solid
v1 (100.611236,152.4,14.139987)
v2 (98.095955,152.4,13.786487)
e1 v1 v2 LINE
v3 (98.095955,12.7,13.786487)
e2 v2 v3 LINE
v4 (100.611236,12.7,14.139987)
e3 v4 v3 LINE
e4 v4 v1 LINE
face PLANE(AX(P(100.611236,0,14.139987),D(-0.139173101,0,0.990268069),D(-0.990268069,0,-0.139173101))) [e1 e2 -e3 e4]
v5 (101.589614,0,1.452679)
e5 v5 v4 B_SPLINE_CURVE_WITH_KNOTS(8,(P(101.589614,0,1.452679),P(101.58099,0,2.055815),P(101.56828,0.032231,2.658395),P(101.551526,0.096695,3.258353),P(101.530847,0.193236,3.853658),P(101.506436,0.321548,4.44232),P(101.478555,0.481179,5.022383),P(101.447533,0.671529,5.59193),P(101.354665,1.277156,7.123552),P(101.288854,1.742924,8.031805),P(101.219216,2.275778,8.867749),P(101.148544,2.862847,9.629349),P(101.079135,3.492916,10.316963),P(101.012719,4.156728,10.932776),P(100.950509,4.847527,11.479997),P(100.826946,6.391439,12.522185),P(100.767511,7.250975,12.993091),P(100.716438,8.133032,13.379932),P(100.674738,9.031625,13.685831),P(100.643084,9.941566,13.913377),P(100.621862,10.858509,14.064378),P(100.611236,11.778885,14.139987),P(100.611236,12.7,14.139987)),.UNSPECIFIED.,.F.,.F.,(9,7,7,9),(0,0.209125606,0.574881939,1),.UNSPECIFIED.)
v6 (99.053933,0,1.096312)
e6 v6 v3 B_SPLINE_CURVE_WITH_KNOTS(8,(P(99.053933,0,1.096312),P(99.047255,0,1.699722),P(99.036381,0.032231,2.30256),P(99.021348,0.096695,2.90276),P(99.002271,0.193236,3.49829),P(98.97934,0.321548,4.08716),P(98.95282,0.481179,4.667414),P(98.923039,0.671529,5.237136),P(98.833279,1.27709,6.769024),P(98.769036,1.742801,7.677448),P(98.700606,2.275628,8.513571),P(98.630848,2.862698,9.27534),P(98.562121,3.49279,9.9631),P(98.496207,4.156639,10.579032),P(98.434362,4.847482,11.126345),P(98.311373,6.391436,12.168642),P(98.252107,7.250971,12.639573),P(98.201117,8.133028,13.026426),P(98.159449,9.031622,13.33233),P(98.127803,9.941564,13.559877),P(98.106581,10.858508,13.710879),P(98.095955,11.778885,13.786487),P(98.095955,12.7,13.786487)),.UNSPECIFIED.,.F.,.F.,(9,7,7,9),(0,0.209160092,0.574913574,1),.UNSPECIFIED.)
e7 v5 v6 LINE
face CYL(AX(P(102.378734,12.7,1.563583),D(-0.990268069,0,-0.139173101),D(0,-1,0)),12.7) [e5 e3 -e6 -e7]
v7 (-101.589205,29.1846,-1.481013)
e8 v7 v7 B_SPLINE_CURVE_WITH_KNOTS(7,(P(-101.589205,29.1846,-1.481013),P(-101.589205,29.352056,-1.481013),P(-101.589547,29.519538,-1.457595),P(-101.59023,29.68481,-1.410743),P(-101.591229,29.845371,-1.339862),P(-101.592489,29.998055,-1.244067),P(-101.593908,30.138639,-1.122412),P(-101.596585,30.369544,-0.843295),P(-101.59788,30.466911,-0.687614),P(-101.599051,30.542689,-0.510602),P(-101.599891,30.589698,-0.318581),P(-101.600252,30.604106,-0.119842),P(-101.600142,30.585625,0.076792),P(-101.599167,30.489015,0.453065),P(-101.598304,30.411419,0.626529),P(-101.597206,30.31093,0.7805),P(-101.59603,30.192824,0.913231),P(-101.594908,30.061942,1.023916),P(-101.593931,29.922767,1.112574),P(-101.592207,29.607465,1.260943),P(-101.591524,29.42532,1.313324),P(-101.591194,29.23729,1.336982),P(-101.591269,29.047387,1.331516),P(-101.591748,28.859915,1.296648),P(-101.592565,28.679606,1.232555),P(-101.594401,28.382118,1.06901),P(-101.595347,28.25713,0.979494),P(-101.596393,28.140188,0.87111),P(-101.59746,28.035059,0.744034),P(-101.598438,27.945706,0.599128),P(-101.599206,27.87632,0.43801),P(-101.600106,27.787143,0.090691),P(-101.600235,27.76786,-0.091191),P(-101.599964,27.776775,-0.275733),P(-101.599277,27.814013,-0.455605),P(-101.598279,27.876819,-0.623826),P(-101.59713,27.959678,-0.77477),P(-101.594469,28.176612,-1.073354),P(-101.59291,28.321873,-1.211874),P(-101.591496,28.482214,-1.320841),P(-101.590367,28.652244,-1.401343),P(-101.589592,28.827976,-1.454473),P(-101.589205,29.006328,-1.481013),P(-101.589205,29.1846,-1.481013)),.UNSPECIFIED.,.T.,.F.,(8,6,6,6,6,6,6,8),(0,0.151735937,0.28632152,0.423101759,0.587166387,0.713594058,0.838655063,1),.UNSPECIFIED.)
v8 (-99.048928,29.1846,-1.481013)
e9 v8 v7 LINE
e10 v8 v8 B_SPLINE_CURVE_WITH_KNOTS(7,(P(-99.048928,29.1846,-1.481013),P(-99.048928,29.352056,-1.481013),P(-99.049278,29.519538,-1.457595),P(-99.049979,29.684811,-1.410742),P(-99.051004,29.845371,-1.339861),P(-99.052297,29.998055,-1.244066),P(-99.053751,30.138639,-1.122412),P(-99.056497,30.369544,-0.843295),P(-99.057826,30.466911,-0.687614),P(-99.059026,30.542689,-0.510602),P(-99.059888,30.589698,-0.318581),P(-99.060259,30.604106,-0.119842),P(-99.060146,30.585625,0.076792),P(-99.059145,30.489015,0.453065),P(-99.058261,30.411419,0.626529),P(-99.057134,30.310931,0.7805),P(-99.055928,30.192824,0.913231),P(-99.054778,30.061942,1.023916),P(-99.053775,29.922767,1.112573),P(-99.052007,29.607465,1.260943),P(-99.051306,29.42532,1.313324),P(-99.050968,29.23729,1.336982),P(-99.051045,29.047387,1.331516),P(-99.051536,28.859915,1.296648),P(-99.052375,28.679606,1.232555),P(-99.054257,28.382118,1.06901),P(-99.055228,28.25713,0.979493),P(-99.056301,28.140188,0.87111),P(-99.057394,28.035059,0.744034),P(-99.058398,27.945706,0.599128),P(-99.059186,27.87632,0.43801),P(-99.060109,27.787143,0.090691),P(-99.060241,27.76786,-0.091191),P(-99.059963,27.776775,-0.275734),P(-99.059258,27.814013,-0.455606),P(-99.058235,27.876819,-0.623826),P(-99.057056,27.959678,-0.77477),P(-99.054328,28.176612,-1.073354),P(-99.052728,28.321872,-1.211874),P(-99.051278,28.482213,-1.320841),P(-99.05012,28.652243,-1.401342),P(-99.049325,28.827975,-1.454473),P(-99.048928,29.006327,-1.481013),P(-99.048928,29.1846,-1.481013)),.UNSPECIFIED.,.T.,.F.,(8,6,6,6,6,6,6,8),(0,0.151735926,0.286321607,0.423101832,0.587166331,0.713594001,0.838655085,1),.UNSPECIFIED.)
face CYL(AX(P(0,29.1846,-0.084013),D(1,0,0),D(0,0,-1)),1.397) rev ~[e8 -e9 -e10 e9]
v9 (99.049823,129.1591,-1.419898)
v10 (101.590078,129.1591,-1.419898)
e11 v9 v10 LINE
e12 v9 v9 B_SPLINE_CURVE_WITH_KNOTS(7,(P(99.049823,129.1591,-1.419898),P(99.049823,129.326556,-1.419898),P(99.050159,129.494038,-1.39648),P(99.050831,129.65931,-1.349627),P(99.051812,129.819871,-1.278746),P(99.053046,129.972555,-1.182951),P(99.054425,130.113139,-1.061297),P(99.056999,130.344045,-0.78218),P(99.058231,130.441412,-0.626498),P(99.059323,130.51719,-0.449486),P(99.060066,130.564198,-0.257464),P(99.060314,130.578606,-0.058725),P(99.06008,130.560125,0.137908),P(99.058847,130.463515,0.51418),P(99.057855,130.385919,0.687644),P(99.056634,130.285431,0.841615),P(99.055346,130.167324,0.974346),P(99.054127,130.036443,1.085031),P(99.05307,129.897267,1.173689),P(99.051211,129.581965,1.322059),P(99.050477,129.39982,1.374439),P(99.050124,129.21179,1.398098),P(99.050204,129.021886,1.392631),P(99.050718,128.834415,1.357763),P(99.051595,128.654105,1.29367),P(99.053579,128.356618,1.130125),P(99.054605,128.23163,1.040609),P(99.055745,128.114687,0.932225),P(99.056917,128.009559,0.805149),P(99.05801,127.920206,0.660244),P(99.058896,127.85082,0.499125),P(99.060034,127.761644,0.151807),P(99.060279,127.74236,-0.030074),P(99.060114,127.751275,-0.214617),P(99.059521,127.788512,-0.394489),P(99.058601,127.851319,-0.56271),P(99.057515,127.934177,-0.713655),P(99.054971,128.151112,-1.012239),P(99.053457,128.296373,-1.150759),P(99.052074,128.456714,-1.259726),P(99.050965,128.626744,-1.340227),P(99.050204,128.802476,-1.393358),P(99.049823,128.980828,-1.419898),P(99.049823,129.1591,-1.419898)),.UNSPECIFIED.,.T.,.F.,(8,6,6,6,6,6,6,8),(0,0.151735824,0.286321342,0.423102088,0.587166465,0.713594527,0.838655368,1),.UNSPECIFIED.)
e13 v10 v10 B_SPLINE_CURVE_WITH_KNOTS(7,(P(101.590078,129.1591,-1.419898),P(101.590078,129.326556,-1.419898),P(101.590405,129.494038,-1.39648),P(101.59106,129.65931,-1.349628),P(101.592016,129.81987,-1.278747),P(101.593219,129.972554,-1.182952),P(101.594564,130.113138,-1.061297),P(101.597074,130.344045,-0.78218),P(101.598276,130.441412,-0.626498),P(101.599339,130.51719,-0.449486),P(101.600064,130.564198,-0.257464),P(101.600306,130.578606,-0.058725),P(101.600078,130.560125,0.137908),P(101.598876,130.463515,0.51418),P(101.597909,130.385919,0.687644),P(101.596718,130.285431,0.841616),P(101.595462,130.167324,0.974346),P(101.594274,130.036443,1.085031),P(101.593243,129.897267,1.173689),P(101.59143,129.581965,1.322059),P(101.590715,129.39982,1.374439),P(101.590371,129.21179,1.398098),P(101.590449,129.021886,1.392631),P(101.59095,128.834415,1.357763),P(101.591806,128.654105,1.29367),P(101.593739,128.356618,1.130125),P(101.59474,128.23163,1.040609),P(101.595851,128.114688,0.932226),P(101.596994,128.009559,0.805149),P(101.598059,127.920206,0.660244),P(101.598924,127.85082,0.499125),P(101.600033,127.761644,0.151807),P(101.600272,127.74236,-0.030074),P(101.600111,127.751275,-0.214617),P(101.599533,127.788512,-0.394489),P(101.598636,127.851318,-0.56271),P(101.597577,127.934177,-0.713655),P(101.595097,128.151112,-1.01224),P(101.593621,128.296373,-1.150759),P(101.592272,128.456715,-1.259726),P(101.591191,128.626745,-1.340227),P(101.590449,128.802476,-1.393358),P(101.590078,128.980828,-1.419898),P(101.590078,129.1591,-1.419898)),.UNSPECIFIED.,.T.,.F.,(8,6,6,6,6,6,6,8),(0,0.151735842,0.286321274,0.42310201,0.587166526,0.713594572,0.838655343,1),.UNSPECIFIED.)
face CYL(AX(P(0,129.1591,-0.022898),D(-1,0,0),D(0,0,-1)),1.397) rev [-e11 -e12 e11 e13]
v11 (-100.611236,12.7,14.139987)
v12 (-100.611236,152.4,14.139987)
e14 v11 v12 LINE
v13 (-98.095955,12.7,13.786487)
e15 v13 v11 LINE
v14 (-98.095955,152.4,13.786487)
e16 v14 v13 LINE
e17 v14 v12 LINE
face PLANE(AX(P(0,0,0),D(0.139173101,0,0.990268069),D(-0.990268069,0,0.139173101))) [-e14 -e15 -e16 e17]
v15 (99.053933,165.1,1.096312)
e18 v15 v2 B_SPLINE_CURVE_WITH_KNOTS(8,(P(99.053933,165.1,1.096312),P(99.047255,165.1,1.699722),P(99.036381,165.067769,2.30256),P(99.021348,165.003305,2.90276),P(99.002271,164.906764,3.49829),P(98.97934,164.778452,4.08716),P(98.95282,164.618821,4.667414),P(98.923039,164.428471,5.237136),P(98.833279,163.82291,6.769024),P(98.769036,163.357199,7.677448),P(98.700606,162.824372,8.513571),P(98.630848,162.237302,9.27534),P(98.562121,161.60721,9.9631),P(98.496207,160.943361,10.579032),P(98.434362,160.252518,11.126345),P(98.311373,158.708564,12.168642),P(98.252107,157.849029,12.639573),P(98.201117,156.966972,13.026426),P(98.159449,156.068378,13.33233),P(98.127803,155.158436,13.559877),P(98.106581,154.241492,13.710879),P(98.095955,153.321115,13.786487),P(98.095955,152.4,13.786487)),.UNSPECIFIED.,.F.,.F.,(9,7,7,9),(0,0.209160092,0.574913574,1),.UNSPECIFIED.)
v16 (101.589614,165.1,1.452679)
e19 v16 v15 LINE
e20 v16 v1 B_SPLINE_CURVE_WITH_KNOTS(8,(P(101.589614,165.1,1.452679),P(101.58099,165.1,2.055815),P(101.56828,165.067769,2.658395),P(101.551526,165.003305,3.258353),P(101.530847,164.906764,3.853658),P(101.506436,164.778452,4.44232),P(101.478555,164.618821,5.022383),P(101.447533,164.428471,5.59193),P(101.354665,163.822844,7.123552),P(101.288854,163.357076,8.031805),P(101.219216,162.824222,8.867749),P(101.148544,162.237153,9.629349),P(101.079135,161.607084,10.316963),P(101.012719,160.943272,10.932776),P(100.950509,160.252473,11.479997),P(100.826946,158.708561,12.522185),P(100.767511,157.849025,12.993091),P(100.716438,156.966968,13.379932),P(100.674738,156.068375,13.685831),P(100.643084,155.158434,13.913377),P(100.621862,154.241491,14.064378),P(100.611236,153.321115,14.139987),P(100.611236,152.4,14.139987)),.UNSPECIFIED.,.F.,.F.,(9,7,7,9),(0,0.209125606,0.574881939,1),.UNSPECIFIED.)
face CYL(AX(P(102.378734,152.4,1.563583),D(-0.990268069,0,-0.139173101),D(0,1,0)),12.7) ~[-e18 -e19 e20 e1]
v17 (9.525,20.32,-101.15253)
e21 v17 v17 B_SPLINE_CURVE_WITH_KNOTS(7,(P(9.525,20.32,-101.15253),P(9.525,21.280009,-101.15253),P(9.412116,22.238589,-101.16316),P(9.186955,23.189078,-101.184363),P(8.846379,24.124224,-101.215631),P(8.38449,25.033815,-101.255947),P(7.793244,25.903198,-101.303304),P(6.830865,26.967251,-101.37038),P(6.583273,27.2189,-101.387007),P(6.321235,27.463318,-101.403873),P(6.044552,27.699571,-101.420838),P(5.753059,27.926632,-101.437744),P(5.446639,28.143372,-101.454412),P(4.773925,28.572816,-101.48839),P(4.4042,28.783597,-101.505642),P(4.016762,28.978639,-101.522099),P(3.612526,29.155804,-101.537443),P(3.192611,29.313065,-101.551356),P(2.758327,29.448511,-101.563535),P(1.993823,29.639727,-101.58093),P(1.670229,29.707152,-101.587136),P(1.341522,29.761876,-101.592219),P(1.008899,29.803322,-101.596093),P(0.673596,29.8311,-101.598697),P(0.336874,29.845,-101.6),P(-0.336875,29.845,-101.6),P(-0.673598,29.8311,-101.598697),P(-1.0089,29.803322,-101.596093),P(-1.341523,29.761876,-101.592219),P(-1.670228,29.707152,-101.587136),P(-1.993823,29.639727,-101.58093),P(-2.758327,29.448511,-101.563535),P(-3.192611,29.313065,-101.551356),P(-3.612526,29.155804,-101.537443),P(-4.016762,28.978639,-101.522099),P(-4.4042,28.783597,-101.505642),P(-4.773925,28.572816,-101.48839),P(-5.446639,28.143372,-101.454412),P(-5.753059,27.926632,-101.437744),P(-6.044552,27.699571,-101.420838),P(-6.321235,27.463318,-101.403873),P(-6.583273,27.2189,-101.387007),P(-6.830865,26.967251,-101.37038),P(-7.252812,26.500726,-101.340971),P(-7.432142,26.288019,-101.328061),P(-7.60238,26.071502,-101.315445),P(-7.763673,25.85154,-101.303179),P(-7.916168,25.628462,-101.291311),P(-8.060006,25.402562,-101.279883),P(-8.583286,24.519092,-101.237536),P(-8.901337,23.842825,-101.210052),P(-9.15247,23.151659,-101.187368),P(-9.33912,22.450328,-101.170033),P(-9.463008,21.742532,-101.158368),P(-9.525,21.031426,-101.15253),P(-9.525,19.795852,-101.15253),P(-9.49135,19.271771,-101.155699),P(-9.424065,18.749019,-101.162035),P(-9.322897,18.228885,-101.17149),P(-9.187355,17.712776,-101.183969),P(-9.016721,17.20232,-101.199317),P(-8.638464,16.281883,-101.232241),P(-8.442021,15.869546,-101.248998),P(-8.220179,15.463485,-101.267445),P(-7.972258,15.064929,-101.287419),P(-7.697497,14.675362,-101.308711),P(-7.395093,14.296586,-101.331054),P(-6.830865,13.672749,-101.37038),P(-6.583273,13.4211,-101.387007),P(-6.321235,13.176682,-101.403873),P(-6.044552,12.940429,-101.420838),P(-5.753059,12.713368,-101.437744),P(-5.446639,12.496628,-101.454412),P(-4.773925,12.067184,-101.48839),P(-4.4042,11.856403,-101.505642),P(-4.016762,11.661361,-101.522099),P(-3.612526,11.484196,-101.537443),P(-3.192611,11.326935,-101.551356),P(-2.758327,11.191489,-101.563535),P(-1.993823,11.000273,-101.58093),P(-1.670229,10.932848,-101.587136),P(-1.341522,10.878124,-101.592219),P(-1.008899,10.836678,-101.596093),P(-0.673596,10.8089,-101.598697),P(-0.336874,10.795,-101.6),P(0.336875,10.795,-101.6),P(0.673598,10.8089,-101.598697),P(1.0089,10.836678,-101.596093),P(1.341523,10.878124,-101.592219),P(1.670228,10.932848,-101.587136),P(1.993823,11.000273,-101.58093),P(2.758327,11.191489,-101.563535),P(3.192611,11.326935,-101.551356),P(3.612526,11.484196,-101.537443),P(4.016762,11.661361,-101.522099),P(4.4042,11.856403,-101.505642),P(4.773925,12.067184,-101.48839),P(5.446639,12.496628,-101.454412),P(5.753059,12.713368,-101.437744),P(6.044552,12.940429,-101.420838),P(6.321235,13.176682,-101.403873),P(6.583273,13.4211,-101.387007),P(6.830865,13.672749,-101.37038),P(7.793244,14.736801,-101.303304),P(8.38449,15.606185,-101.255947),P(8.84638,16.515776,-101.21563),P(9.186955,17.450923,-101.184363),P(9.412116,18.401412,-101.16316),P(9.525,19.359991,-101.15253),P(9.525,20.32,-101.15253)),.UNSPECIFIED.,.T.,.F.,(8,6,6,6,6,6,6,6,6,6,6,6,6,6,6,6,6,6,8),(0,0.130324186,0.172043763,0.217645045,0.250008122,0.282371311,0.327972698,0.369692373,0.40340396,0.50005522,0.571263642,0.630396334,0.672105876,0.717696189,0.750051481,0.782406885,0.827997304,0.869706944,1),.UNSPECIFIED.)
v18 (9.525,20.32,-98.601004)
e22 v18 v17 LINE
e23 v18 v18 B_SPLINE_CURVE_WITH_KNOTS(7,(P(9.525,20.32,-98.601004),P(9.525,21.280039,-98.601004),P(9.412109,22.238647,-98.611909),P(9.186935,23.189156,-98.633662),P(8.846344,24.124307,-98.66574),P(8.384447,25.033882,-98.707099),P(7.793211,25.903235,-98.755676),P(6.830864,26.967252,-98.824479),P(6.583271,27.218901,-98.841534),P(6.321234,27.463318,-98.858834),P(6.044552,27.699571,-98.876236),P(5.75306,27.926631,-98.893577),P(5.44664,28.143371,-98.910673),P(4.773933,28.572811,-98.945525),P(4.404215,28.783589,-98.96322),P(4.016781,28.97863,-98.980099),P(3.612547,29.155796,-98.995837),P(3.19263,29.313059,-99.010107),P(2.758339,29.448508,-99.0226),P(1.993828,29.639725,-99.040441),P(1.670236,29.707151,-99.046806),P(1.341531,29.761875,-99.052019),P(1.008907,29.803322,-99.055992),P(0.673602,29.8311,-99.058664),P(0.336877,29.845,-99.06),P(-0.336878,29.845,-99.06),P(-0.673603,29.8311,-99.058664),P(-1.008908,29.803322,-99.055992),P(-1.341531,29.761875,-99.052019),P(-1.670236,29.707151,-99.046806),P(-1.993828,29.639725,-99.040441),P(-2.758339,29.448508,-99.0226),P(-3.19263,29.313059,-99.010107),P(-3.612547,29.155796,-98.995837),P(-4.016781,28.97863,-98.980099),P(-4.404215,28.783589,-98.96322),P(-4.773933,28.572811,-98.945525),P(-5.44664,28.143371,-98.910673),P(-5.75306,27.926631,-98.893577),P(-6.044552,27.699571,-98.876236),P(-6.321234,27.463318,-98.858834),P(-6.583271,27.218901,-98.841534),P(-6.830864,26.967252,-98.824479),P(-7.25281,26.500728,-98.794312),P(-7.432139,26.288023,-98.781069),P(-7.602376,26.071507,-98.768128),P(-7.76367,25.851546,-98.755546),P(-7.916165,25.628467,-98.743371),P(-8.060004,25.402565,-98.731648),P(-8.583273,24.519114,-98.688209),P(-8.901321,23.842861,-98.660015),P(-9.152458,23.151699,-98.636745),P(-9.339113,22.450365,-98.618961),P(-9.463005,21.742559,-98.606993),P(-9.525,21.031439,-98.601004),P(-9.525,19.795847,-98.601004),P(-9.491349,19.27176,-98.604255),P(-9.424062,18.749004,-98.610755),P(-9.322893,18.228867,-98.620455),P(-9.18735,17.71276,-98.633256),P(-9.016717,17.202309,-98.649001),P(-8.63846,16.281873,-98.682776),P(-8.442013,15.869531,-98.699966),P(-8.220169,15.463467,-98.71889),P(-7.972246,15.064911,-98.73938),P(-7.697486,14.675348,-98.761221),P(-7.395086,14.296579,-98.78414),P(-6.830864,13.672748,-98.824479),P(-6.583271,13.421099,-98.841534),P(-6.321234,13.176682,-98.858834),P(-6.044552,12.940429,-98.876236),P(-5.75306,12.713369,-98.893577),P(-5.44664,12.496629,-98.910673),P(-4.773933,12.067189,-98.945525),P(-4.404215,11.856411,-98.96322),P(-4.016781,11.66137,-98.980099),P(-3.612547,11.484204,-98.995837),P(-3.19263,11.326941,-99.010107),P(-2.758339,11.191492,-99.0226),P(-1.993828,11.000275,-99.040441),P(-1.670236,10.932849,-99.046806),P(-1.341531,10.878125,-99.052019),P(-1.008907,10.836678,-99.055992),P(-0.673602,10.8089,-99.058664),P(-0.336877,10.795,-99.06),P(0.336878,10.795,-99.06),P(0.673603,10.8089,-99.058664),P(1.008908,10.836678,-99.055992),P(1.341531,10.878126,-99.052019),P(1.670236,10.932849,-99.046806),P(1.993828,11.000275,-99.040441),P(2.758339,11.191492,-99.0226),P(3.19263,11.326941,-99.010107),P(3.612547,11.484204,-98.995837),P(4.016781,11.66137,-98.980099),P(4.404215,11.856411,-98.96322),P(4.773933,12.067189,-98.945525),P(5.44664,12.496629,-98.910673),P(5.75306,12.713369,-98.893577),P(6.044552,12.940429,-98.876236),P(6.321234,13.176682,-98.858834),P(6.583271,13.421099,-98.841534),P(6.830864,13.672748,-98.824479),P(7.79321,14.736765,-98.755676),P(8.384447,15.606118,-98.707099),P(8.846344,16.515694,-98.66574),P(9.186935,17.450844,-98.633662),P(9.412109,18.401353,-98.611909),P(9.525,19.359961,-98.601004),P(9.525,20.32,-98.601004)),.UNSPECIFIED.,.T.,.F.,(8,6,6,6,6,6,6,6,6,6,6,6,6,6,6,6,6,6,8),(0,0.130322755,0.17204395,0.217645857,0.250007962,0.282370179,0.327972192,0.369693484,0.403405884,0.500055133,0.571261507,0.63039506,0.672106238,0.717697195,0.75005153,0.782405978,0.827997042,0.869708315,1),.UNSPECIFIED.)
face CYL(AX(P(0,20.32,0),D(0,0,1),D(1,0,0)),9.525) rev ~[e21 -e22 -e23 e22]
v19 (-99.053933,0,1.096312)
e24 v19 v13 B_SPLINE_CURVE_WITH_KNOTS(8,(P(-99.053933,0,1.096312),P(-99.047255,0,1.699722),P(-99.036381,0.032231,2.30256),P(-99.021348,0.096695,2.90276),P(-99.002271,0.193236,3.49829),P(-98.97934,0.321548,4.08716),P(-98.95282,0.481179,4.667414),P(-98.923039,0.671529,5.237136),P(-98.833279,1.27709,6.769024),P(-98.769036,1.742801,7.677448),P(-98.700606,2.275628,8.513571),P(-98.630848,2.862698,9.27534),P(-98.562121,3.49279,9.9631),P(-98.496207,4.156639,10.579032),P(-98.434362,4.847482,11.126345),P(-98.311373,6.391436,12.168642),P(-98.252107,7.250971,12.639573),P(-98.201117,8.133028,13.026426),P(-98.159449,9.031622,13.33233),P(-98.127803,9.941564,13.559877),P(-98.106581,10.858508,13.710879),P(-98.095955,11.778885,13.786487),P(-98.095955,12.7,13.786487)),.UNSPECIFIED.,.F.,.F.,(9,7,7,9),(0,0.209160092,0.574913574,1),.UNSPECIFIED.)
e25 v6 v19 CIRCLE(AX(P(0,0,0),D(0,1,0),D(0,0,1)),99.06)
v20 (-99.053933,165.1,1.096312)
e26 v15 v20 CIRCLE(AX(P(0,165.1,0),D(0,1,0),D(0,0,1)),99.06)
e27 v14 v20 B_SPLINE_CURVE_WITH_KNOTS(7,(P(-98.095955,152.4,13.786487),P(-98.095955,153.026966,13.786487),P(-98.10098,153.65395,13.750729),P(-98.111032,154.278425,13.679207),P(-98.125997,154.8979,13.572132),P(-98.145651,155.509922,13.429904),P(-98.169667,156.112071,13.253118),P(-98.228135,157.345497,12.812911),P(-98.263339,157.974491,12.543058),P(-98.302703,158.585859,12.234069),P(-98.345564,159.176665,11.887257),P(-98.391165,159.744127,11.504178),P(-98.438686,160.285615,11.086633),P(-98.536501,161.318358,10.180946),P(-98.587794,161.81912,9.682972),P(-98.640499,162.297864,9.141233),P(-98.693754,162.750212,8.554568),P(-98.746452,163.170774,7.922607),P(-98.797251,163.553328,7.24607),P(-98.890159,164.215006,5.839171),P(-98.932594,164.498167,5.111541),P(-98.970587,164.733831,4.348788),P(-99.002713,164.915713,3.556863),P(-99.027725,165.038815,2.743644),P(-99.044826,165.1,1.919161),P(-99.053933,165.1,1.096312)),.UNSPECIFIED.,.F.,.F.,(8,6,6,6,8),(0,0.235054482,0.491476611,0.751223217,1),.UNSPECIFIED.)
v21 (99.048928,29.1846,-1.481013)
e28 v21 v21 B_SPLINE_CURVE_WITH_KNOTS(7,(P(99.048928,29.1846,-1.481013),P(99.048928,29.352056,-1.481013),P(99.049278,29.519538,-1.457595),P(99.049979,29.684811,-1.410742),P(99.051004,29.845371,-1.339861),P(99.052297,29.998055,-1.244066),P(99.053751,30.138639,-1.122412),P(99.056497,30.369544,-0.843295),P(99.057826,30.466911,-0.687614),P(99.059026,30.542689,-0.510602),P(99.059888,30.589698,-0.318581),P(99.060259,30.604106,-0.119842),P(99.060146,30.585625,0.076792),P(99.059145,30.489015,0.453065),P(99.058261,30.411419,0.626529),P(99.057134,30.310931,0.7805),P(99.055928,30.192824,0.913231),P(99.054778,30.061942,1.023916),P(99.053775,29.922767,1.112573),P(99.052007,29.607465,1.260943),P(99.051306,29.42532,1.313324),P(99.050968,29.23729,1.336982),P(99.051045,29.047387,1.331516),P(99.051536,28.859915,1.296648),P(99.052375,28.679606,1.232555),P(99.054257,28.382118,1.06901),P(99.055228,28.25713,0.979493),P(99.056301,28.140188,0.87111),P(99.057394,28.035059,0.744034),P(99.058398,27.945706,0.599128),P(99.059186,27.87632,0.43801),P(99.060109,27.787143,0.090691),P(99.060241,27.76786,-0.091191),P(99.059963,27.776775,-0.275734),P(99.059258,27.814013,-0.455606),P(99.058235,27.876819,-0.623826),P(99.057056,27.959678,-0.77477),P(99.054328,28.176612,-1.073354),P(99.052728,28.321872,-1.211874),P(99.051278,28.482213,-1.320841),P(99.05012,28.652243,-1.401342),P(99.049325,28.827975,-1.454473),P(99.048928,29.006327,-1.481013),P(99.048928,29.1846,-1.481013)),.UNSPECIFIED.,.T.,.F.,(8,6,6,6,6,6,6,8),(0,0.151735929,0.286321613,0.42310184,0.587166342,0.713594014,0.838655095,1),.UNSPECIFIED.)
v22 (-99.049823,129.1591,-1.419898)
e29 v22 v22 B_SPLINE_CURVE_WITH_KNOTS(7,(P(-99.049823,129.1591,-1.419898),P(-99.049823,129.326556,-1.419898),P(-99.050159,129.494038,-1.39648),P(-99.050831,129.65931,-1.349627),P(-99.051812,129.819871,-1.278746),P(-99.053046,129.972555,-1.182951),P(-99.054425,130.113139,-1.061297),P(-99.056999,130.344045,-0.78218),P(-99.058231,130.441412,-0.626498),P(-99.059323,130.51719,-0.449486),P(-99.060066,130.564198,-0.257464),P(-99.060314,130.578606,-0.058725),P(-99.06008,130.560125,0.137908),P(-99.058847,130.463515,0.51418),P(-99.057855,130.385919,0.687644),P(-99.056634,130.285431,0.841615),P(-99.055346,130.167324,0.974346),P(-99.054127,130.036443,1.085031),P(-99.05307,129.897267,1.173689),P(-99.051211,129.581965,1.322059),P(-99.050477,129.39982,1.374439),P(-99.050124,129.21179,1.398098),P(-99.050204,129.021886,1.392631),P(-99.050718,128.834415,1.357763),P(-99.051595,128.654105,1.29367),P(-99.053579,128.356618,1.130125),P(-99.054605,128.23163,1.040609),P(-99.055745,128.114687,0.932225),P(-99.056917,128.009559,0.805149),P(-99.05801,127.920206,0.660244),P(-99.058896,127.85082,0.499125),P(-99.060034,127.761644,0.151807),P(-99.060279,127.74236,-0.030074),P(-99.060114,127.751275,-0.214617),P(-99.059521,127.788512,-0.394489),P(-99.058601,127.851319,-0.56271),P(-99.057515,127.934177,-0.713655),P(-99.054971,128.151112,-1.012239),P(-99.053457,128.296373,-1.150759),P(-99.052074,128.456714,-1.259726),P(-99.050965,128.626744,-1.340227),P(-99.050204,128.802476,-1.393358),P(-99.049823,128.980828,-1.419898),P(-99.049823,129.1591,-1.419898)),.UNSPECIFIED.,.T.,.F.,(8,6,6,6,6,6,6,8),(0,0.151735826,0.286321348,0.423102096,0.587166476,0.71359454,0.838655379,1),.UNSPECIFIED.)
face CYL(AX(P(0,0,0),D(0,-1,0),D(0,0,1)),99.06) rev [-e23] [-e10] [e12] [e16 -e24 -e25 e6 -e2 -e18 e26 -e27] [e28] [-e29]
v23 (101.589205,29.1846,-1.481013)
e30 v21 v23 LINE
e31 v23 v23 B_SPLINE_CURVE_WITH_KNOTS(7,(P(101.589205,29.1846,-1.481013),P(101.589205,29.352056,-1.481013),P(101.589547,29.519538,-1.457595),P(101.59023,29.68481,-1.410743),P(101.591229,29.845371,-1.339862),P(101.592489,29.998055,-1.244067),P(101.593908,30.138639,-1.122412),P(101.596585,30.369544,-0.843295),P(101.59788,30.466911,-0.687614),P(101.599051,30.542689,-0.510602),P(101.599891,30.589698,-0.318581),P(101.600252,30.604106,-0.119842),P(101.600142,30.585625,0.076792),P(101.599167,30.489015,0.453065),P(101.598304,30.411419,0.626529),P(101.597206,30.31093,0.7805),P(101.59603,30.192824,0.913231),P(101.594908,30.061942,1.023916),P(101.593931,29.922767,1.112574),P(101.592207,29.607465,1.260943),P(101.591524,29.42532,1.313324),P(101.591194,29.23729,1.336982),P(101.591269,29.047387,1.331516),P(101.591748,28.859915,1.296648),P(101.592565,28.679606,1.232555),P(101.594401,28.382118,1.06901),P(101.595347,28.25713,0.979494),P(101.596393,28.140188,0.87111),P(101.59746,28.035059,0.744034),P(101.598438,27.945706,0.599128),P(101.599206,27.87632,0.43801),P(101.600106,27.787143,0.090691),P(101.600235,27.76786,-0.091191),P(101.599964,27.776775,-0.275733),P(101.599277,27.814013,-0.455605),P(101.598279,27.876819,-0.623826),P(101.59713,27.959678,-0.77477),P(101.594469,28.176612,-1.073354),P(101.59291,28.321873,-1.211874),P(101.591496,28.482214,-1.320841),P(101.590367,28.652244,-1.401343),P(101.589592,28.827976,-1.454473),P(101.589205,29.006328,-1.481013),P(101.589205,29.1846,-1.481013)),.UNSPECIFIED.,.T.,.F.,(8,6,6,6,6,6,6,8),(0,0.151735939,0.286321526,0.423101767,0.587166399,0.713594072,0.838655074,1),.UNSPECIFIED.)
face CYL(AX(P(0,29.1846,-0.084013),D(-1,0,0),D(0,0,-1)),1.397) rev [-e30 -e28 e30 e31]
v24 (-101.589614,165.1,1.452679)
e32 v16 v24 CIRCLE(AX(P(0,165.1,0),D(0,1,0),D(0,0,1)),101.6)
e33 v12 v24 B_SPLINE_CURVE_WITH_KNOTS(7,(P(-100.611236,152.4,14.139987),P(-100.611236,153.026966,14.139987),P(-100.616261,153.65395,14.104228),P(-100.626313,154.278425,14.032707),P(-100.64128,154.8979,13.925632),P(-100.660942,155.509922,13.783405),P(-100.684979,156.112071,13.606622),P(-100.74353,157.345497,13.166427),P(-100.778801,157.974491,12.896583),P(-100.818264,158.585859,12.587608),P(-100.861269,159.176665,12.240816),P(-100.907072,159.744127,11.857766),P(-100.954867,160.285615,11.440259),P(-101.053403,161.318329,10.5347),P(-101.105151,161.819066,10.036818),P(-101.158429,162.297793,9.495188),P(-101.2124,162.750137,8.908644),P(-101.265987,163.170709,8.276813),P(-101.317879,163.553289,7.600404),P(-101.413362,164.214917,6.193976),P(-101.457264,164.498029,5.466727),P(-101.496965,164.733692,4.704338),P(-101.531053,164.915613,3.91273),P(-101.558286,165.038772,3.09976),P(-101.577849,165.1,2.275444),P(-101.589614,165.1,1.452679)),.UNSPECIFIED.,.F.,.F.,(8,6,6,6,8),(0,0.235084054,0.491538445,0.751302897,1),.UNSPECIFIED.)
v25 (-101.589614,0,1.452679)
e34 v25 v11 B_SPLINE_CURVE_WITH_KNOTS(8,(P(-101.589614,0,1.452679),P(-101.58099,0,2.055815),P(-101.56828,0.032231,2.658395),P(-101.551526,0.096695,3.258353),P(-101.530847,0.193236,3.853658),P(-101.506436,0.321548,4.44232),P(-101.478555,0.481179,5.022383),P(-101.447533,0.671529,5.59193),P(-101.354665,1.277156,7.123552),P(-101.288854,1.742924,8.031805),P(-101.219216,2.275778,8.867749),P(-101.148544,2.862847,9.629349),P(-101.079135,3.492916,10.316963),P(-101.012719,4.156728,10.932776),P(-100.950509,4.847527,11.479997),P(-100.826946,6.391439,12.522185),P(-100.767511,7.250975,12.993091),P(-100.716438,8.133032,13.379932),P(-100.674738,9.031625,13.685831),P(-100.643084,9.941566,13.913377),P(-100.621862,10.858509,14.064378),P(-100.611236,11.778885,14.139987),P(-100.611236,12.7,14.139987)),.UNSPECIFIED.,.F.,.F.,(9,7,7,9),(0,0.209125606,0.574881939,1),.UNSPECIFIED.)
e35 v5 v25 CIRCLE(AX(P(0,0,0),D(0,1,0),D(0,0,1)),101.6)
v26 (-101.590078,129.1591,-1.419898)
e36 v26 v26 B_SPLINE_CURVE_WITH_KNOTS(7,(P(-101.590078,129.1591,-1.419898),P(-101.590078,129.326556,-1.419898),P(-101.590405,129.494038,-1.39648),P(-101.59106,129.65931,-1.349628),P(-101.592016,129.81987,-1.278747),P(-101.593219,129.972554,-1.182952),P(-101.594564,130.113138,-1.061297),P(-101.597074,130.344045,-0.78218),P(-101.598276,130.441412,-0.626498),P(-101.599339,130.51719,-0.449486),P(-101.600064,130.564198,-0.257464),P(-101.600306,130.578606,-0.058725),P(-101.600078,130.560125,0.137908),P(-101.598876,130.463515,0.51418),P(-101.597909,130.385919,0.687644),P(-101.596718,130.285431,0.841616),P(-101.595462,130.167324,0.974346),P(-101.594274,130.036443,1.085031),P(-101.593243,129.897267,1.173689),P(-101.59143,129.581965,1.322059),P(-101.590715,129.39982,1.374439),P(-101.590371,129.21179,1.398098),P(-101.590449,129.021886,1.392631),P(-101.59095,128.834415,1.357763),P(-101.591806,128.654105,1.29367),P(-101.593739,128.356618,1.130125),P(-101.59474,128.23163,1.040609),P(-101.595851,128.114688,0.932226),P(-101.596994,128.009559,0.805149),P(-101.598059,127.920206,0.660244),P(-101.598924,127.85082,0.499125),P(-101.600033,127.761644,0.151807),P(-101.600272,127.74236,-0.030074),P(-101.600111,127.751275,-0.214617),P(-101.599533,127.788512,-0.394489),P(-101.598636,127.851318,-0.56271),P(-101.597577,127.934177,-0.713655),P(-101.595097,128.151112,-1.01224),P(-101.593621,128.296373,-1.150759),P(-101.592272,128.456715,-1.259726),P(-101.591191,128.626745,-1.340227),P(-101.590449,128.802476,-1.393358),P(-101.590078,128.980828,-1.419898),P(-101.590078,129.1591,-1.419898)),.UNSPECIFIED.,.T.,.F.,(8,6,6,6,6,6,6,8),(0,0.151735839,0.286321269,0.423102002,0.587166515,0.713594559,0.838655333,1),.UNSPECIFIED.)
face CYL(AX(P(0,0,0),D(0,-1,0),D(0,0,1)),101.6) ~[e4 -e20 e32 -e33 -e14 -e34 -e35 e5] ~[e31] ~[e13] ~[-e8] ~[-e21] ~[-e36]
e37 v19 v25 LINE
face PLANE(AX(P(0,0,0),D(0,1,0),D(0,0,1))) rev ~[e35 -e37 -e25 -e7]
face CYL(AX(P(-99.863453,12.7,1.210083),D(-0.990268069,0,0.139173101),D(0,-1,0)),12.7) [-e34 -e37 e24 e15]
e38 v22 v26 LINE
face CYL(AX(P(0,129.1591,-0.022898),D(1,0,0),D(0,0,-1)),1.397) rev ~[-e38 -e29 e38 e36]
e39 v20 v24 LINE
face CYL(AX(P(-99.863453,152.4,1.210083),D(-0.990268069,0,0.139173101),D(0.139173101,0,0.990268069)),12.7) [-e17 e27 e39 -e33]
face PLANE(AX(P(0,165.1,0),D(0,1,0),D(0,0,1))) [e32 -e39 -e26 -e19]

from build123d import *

# Parameters (mm, degrees)
SKETCH1_R               = 101.6
SKETCH1_R_2             = 99.06
BOSS_EXTRUDE1_DEPTH     = 165.1
CUT_EXTRUDE1_DEPTH      = 165.1
FILLET1_R               = 12.7
SKETCH3_R               = 1.397
CUT_EXTRUDE2_DEPTH      = 219.867837001
CUT_EXTRUDE2_DEPTH_BACK = 219.867837001
SKETCH4_R               = 9.525
CUT_EXTRUDE3_DEPTH      = 219.867837003


with BuildPart() as part:
    # Sketch1 → Boss-Extrude1 (new body)
    with BuildSketch(Plane(origin=(0, 0, 0), x_dir=(1, 0, 0), z_dir=(0, 1, 0))):
        with Locations(Location((0, 0, 0), (0, 0, 270))):
            Circle(SKETCH1_R)
        with Locations(Location((0, 0, 0), (0, 0, 270))):
            Circle(SKETCH1_R_2, mode=Mode.SUBTRACT)
    extrude(amount=BOSS_EXTRUDE1_DEPTH)

    # Sketch2 → Cut-Extrude1 (cut)
    with BuildSketch(Plane(origin=(0, 0, 0), x_dir=(1, 0, 0), z_dir=(0, 1, 0))):
        Polygon((571.962381958, -80.384070579), (100.611235784, -14.139987058), (0, 0), (-100.611235784, -14.139987058), (-571.962381958, -80.384070579), (-571.962381958, -1032.350838067), (571.962381958, -1032.350838067), align=None)
    extrude(amount=CUT_EXTRUDE1_DEPTH, mode=Mode.SUBTRACT)

    # Fillet1
    fillet1_edges = [part.edges().sort_by_distance(p)[0] for p in [
        (-99.353595337, 0, 13.963237219),
        (99.353595337, 165.1, 13.963237219),
        (-99.353595337, 165.1, 13.963237219),
        (99.353595337, 0, 13.963237219),
    ]]
    fillet(fillet1_edges, radius=FILLET1_R)

    # Sketch3 → Cut-Extrude2 (cut, two sides)
    with BuildSketch(Plane(origin=(0, 0, 0), x_dir=(0, 0, -1), z_dir=(1, 0, 0))) as cut_extrude2_sk:
        with Locations((0.084012942, 29.1846)):
            Circle(SKETCH3_R)
        with Locations((0.022897636, 129.159100035)):
            Circle(SKETCH3_R)
    extrude(amount=CUT_EXTRUDE2_DEPTH, mode=Mode.SUBTRACT)
    extrude(cut_extrude2_sk.sketch, amount=-CUT_EXTRUDE2_DEPTH_BACK, mode=Mode.SUBTRACT)

    # Sketch4 → Cut-Extrude3 (cut, through all)
    with BuildSketch(Plane.XY):
        with Locations((0, 20.32)):
            Circle(SKETCH4_R)
    extrude(amount=-CUT_EXTRUDE3_DEPTH, mode=Mode.SUBTRACT)


solid = part.part
